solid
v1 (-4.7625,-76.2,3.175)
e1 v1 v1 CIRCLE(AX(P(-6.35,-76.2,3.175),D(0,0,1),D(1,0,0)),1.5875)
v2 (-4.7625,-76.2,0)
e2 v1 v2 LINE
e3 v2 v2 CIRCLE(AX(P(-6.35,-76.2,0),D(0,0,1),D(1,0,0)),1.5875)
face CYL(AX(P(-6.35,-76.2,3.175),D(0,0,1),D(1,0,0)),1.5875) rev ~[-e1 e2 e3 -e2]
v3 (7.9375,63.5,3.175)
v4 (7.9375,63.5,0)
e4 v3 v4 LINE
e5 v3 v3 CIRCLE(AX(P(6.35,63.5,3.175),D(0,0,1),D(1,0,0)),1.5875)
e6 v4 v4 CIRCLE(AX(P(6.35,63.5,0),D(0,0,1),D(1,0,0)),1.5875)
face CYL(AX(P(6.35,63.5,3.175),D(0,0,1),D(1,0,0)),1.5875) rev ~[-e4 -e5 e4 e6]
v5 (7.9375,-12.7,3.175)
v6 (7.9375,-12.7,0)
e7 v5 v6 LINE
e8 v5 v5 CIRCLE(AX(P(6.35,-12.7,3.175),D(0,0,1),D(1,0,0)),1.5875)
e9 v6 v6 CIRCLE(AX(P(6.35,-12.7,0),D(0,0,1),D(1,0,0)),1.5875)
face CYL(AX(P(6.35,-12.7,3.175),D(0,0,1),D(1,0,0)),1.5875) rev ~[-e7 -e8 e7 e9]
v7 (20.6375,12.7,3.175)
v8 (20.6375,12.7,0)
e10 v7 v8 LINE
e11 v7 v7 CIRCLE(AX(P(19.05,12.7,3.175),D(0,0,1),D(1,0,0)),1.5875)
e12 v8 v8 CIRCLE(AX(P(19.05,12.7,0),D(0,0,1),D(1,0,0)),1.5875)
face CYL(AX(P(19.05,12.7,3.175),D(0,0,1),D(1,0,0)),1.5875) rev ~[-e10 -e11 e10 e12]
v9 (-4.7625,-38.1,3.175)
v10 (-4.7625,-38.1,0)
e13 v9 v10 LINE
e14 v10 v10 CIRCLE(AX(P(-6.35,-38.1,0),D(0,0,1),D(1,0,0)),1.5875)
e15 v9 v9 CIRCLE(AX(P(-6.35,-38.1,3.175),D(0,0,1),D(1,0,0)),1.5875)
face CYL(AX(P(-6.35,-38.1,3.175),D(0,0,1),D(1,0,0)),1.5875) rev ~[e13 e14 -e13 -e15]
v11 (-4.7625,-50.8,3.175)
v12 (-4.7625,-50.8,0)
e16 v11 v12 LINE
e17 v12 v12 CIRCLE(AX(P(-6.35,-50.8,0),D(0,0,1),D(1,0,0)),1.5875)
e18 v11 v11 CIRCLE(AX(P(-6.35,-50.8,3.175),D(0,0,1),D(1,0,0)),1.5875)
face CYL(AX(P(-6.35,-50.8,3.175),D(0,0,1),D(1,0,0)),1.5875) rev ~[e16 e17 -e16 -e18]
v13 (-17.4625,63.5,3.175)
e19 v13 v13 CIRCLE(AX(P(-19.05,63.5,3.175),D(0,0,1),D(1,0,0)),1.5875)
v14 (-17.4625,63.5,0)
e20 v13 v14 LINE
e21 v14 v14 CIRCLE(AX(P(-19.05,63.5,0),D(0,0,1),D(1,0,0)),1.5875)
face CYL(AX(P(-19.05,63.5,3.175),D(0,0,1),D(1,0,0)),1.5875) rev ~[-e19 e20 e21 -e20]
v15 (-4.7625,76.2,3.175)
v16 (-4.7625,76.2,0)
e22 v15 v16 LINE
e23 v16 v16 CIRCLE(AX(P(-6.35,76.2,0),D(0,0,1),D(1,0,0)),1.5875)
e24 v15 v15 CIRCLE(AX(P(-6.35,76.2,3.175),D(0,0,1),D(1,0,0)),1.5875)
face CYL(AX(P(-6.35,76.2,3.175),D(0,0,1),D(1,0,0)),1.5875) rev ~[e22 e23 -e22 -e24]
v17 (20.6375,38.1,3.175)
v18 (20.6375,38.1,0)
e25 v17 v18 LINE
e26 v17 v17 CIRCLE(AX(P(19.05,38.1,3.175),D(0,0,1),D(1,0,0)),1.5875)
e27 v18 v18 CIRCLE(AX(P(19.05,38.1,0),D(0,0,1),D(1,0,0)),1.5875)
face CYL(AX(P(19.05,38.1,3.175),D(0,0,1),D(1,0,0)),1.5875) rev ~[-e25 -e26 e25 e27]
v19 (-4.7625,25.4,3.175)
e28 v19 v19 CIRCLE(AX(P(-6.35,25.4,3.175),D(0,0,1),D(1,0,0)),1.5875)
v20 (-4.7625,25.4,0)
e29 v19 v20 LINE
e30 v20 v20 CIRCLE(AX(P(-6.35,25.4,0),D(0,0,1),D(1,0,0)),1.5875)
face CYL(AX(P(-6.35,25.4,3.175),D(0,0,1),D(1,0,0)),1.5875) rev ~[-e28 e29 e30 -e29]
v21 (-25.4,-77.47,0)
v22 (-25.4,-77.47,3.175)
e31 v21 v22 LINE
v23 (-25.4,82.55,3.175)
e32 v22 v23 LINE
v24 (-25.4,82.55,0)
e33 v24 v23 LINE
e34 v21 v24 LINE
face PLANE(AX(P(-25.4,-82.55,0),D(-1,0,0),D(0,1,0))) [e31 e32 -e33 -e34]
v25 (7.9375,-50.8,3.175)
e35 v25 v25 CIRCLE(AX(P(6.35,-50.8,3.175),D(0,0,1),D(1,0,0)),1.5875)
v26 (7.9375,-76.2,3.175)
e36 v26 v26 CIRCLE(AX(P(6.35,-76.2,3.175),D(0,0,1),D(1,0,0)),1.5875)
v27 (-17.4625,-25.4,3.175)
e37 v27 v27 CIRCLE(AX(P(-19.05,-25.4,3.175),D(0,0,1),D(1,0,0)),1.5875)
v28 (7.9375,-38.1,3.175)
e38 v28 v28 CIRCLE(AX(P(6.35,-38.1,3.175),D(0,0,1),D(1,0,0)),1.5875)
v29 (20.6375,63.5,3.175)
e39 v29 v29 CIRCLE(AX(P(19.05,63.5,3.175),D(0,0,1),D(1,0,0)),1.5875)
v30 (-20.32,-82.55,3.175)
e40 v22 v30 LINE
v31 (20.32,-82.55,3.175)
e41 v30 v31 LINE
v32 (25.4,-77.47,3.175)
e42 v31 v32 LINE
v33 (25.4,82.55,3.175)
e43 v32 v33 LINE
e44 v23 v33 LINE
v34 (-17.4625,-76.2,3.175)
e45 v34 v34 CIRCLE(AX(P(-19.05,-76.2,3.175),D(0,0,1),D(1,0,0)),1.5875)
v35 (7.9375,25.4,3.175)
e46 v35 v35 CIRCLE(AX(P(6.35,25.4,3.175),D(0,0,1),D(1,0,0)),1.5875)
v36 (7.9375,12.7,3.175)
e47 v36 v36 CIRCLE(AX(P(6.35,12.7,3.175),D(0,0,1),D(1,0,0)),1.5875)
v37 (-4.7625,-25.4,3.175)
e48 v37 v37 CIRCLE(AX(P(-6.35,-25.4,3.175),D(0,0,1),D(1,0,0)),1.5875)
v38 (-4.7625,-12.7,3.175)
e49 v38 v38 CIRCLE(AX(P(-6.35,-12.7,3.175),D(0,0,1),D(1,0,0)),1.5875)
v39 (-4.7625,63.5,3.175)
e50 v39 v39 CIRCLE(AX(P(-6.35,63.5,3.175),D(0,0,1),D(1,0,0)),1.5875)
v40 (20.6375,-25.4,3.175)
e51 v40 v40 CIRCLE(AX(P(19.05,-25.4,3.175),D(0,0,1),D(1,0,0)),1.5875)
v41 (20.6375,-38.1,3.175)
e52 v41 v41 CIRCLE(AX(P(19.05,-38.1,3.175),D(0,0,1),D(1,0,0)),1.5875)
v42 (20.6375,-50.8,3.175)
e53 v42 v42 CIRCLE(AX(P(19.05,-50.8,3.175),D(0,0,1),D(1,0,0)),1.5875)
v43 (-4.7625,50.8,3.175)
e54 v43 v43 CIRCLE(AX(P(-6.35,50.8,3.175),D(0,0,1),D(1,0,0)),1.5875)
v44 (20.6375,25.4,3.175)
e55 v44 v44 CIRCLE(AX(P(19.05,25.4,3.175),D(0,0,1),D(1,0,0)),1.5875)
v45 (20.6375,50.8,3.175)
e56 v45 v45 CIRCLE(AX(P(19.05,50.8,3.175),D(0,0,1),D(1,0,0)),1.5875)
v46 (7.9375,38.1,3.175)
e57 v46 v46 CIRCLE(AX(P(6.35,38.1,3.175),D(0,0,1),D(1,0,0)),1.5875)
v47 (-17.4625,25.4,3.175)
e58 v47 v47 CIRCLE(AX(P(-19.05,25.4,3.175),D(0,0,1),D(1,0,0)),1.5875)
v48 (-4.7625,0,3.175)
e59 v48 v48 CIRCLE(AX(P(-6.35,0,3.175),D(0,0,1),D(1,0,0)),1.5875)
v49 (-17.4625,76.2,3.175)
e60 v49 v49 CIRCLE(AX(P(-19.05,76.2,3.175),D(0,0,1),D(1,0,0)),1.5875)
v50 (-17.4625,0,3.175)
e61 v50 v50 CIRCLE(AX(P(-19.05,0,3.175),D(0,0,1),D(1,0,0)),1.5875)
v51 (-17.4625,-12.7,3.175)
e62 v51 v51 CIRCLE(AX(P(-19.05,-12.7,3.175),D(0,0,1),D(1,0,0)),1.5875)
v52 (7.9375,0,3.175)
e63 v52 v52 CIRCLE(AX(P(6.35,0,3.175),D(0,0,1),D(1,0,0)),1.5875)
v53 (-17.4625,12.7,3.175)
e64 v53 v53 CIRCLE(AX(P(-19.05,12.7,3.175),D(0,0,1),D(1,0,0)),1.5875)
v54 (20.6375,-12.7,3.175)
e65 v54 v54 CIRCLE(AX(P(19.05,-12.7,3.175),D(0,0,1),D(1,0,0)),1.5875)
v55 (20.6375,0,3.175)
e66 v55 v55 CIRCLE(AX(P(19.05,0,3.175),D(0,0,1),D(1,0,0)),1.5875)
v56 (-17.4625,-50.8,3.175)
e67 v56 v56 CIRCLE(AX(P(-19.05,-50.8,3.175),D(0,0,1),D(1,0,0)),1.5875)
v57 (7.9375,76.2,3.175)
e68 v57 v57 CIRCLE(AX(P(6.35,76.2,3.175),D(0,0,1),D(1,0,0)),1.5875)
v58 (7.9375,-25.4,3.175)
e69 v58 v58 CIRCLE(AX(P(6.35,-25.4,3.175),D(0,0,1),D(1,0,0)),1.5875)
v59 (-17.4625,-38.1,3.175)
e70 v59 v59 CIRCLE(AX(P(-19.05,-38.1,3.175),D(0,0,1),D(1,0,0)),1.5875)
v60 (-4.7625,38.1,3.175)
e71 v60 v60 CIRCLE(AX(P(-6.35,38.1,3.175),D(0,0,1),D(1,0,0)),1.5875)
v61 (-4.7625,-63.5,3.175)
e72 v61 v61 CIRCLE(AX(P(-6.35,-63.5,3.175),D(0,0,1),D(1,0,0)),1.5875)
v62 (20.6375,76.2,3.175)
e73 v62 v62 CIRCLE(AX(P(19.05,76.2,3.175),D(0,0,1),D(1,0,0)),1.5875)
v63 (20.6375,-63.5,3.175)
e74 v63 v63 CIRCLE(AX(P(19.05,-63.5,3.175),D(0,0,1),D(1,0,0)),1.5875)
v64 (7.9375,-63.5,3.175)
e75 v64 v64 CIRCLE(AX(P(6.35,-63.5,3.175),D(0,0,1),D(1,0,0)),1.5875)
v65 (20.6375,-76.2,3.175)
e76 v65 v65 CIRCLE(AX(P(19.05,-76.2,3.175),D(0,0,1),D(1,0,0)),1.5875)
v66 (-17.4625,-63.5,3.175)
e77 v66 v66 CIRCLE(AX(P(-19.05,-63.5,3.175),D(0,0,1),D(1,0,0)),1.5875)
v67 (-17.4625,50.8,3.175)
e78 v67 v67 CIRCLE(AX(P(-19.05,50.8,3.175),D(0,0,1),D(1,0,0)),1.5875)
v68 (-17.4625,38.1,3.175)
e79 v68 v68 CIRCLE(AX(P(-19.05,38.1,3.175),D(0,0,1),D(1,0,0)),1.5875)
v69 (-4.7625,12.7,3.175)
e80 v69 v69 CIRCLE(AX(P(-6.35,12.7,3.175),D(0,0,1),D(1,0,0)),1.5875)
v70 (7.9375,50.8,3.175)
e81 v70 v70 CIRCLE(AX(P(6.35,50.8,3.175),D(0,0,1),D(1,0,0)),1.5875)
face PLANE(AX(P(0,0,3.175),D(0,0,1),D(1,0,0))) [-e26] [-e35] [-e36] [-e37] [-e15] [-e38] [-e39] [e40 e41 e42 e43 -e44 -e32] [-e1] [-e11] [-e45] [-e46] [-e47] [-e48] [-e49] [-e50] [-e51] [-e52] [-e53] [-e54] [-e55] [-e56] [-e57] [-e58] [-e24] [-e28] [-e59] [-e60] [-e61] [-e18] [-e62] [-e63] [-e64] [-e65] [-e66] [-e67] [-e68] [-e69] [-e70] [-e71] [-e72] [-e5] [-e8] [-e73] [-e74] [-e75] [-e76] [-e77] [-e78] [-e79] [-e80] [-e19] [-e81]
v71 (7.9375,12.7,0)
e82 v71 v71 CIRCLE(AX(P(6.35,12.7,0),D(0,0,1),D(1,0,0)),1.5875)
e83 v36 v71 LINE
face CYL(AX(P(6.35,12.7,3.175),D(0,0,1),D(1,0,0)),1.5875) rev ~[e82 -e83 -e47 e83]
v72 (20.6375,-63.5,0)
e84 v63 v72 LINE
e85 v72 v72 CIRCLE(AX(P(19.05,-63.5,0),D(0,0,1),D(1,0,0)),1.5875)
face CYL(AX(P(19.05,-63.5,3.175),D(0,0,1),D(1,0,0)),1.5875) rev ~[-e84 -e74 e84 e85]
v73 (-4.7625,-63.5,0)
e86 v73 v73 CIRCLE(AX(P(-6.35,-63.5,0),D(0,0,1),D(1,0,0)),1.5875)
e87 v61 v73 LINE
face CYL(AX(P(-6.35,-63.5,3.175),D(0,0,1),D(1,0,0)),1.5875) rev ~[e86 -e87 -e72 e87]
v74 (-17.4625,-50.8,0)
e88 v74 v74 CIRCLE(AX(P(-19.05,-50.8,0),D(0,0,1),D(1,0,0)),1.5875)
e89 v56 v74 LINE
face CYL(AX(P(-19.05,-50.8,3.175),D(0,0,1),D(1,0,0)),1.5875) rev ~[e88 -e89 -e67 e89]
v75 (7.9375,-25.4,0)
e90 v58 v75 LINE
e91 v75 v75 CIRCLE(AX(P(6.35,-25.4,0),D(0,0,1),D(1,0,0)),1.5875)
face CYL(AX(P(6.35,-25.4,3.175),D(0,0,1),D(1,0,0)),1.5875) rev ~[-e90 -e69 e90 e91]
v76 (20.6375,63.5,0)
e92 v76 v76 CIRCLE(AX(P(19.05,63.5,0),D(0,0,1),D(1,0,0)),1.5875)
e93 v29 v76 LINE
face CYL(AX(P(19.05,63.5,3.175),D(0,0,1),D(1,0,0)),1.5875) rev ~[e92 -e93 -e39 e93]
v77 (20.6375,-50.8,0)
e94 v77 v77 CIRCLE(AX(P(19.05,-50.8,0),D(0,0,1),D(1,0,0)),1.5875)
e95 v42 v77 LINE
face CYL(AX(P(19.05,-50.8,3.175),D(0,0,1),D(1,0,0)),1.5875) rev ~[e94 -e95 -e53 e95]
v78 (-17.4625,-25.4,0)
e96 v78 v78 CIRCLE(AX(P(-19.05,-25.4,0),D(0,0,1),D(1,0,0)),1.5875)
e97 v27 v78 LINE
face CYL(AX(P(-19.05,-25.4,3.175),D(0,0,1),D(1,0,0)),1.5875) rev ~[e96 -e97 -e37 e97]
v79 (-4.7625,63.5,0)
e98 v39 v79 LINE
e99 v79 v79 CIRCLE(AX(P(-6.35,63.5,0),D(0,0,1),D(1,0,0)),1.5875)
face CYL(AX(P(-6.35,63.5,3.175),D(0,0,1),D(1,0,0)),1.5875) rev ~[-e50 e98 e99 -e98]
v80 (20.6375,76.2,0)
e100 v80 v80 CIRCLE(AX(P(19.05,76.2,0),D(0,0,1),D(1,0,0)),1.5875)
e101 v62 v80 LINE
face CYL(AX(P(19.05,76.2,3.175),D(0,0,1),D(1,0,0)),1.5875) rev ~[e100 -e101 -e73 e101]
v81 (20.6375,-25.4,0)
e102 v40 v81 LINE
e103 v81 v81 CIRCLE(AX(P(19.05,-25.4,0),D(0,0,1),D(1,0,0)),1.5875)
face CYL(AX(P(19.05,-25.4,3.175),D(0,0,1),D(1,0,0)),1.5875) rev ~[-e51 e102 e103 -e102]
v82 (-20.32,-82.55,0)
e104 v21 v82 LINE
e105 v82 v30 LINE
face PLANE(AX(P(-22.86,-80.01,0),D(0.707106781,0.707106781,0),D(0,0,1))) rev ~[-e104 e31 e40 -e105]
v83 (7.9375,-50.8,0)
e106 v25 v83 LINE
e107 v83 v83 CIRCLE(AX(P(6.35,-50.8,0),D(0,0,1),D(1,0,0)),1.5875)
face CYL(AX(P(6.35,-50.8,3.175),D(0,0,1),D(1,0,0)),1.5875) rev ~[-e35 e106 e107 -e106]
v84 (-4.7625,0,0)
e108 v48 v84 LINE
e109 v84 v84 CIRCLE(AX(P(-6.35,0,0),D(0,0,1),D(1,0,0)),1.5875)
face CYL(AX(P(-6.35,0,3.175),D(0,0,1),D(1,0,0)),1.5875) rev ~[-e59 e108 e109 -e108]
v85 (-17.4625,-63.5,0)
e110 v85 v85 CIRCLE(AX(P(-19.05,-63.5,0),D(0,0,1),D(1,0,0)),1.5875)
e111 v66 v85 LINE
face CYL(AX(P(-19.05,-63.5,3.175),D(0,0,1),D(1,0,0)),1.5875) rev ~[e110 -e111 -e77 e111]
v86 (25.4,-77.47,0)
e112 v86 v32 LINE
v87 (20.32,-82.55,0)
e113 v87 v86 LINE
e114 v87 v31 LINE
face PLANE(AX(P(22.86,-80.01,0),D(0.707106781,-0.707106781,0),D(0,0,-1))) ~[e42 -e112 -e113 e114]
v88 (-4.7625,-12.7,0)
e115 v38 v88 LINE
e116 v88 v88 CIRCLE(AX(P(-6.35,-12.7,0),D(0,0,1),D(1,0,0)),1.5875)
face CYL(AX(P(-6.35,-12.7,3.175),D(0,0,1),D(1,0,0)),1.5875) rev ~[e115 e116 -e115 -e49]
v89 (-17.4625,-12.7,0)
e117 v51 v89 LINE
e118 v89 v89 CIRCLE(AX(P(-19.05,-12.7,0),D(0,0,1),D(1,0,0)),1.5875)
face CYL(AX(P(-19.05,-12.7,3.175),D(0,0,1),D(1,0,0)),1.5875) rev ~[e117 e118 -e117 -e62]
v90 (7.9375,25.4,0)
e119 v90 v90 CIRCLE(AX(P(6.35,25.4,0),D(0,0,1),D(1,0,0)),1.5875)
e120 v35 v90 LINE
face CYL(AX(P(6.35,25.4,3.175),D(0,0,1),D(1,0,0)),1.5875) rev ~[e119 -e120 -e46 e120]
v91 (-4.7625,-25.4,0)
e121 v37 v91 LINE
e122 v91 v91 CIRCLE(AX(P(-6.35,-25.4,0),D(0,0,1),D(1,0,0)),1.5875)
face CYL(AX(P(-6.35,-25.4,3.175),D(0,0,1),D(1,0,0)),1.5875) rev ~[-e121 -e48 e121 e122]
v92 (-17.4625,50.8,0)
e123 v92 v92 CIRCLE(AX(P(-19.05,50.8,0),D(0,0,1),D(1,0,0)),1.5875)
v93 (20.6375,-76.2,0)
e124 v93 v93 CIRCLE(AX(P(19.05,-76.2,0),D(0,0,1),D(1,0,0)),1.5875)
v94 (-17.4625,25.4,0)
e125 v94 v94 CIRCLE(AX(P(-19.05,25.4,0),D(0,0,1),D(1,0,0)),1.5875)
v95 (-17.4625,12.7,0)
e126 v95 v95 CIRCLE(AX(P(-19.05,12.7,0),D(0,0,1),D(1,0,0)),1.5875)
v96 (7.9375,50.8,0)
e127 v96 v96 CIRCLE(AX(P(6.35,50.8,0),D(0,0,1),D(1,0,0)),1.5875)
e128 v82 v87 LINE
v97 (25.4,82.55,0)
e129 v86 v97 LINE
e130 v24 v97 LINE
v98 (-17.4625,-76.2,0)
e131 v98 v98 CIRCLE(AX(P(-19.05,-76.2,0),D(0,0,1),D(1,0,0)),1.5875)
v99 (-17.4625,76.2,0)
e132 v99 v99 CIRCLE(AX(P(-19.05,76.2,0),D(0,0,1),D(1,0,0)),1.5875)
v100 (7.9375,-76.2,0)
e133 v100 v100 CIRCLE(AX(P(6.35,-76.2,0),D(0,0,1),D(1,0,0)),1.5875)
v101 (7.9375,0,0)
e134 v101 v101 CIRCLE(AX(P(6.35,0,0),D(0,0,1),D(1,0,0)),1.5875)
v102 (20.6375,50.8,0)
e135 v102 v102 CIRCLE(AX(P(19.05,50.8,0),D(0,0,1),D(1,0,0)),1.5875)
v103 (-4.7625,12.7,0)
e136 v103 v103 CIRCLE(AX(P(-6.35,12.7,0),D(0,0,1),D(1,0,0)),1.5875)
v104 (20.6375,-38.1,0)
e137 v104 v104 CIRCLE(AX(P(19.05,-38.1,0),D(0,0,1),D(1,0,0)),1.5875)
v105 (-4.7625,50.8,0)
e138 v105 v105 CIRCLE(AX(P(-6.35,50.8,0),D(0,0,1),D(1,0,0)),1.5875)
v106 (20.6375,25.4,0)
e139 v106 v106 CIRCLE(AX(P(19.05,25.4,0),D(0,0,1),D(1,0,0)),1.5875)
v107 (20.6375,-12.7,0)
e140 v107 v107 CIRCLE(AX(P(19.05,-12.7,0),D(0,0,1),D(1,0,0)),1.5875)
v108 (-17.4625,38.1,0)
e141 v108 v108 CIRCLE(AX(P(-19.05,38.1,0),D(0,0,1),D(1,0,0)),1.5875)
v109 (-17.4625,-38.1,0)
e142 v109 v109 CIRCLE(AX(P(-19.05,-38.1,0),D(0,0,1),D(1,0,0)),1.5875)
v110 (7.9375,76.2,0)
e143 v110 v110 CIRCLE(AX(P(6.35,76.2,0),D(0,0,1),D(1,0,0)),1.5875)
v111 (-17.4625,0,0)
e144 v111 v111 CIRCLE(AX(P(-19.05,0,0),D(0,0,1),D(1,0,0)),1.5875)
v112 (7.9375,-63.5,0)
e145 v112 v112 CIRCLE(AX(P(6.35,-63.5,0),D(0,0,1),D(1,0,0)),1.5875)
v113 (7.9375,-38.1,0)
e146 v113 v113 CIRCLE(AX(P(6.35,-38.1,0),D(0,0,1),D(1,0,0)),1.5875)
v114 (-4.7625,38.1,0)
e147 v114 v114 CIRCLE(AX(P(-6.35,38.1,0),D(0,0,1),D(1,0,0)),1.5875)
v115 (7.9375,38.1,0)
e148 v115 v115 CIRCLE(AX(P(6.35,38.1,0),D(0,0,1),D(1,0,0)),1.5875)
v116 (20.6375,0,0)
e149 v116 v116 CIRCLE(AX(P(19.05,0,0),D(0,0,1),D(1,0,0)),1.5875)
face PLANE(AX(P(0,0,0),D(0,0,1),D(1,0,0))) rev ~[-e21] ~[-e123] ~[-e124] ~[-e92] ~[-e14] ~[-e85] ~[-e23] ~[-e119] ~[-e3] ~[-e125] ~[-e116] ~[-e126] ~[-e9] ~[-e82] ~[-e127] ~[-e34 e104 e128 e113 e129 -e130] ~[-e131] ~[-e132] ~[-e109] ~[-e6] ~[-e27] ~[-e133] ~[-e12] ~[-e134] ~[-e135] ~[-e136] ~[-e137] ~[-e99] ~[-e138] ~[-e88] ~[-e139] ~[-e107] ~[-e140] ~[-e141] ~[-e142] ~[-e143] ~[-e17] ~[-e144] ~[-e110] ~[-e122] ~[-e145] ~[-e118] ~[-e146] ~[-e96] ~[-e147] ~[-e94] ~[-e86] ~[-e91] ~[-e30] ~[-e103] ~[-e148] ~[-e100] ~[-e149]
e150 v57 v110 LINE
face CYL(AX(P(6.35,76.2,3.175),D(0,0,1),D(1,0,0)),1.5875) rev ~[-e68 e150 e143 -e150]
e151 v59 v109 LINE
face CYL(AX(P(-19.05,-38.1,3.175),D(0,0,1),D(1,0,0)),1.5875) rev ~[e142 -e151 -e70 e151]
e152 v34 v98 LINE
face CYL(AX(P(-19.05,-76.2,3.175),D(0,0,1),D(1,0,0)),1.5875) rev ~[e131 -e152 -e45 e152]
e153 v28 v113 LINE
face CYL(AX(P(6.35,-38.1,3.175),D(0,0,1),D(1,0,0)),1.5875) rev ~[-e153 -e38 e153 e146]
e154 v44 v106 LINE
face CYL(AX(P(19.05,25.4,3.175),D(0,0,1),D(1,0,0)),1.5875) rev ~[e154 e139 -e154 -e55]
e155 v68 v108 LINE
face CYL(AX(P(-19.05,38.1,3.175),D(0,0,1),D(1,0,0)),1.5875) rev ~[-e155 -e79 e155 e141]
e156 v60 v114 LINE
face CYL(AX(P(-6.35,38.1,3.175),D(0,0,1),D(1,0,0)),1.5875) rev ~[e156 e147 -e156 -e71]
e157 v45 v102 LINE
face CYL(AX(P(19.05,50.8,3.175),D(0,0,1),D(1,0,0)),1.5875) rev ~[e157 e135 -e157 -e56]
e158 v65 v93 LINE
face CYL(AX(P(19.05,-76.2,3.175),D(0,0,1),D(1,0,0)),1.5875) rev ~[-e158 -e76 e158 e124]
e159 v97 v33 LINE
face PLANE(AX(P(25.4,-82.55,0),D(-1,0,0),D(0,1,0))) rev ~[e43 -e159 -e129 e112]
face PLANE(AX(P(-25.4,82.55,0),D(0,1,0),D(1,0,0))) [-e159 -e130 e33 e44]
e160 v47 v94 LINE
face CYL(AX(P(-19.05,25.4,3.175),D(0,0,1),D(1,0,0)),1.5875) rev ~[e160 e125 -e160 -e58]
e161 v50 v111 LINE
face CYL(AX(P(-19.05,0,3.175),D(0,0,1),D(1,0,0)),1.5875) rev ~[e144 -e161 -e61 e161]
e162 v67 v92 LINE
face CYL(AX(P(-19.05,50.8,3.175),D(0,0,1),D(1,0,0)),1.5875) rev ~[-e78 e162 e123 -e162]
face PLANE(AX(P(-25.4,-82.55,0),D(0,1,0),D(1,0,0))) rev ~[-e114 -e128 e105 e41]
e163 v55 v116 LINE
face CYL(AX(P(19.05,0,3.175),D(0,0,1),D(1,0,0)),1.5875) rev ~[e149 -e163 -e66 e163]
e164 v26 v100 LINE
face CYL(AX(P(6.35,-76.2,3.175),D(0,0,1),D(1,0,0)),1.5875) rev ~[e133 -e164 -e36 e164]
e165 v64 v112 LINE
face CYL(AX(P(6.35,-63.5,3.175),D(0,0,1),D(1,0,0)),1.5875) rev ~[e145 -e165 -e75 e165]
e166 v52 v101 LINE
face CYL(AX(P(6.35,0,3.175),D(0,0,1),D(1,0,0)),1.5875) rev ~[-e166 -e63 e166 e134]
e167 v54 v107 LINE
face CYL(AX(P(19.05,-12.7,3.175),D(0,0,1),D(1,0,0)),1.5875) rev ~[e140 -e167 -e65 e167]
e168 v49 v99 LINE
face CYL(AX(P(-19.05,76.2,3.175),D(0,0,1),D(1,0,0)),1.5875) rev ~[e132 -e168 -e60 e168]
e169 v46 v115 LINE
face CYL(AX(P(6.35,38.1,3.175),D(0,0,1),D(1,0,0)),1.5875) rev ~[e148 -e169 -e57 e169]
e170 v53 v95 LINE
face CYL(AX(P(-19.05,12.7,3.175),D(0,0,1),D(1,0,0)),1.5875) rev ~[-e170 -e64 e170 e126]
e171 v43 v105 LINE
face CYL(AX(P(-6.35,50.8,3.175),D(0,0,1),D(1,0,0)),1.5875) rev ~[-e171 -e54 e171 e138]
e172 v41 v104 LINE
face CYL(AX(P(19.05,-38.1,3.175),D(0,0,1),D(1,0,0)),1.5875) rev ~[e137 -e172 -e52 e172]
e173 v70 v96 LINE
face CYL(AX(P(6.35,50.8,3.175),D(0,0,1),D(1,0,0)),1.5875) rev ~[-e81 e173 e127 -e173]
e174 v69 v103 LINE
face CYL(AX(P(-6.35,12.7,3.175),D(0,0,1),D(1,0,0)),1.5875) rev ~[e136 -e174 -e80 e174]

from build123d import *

# Parameters (mm, degrees)
SKETCH1_W                  = 50.8
SKETCH1_H                  = 165.1
BOSS_EXTRUDE1_DEPTH        = 3.175
SKETCH2_R                  = 1.5875
CUT_EXTRUDE1_DEPTH         = 4.175
LPATTERN1_COUNT            = 3
LPATTERN1_PITCH            = 12.7
LPATTERN1_COL_COUNT        = 2
LPATTERN1_COL_PITCH        = 12.7
LPATTERN2_COUNT            = 13
LPATTERN2_PITCH            = 12.7
LPATTERN2_COPY_1_SKETCH_R  = 1.5875
LPATTERN2_COPY_1_DEPTH     = 4.175
LPATTERN2_COPY_2_SKETCH_R  = 1.5875
LPATTERN2_COPY_2_DEPTH     = 4.175
LPATTERN2_COPY_3_SKETCH_R  = 1.5875
LPATTERN2_COPY_3_DEPTH     = 4.175
LPATTERN2_COPY_4_SKETCH_R  = 1.5875
LPATTERN2_COPY_4_DEPTH     = 4.175
LPATTERN2_COPY_5_SKETCH_R  = 1.5875
LPATTERN2_COPY_5_DEPTH     = 4.175
LPATTERN2_COPY_6_SKETCH_R  = 1.5875
LPATTERN2_COPY_6_DEPTH     = 4.175
LPATTERN2_COPY_7_SKETCH_R  = 1.5875
LPATTERN2_COPY_7_DEPTH     = 4.175
LPATTERN2_COPY_8_SKETCH_R  = 1.5875
LPATTERN2_COPY_8_DEPTH     = 4.175
LPATTERN2_COPY_9_SKETCH_R  = 1.5875
LPATTERN2_COPY_9_DEPTH     = 4.175
LPATTERN2_COPY_10_SKETCH_R = 1.5875
LPATTERN2_COPY_10_DEPTH    = 4.175
LPATTERN2_COPY_11_SKETCH_R = 1.5875
LPATTERN2_COPY_11_DEPTH    = 4.175
LPATTERN2_COPY_12_SKETCH_R = 1.5875
LPATTERN2_COPY_12_DEPTH    = 4.175
LPATTERN2_COPY_13_SKETCH_R = 1.5875
LPATTERN2_COPY_13_DEPTH    = 4.175
LPATTERN2_COPY_14_SKETCH_R = 1.5875
LPATTERN2_COPY_14_DEPTH    = 4.175
LPATTERN2_COPY_15_SKETCH_R = 1.5875
LPATTERN2_COPY_15_DEPTH    = 4.175
LPATTERN2_COPY_16_SKETCH_R = 1.5875
LPATTERN2_COPY_16_DEPTH    = 4.175
LPATTERN2_COPY_17_SKETCH_R = 1.5875
LPATTERN2_COPY_17_DEPTH    = 4.175
LPATTERN2_COPY_18_SKETCH_R = 1.5875
LPATTERN2_COPY_18_DEPTH    = 4.175
LPATTERN2_COPY_19_SKETCH_R = 1.5875
LPATTERN2_COPY_19_DEPTH    = 4.175
LPATTERN2_COPY_20_SKETCH_R = 1.5875
LPATTERN2_COPY_20_DEPTH    = 4.175
LPATTERN2_COPY_21_SKETCH_R = 1.5875
LPATTERN2_COPY_21_DEPTH    = 4.175
LPATTERN2_COPY_22_SKETCH_R = 1.5875
LPATTERN2_COPY_22_DEPTH    = 4.175
LPATTERN2_COPY_23_SKETCH_R = 1.5875
LPATTERN2_COPY_23_DEPTH    = 4.175
LPATTERN2_COPY_24_SKETCH_R = 1.5875
LPATTERN2_COPY_24_DEPTH    = 4.175
LPATTERN2_COPY_25_SKETCH_R = 1.5875
LPATTERN2_COPY_25_DEPTH    = 4.175
LPATTERN2_COPY_26_SKETCH_R = 1.5875
LPATTERN2_COPY_26_DEPTH    = 4.175
LPATTERN2_COPY_27_SKETCH_R = 1.5875
LPATTERN2_COPY_27_DEPTH    = 4.175
LPATTERN2_COPY_28_SKETCH_R = 1.5875
LPATTERN2_COPY_28_DEPTH    = 4.175
LPATTERN2_COPY_29_SKETCH_R = 1.5875
LPATTERN2_COPY_29_DEPTH    = 4.175
LPATTERN2_COPY_30_SKETCH_R = 1.5875
LPATTERN2_COPY_30_DEPTH    = 4.175
LPATTERN2_COPY_31_SKETCH_R = 1.5875
LPATTERN2_COPY_31_DEPTH    = 4.175
LPATTERN2_COPY_32_SKETCH_R = 1.5875
LPATTERN2_COPY_32_DEPTH    = 4.175
LPATTERN2_COPY_33_SKETCH_R = 1.5875
LPATTERN2_COPY_33_DEPTH    = 4.175
LPATTERN2_COPY_34_SKETCH_R = 1.5875
LPATTERN2_COPY_34_DEPTH    = 4.175
LPATTERN2_COPY_35_SKETCH_R = 1.5875
LPATTERN2_COPY_35_DEPTH    = 4.175
LPATTERN2_COPY_36_SKETCH_R = 1.5875
LPATTERN2_COPY_36_DEPTH    = 4.175
CHAMFER1_SIZE              = 5.08


with BuildPart() as part:
    # Sketch1 → Boss-Extrude1 (new body)
    with BuildSketch(Plane.XY):
        Rectangle(SKETCH1_W, SKETCH1_H)
    extrude(amount=BOSS_EXTRUDE1_DEPTH)

    # Sketch2 → Cut-Extrude1 (cut, through all)
    with BuildSketch(Plane.XY.offset(3.175)):
        with Locations((-6.35, -76.2)):
            Circle(SKETCH2_R)
    cut_extrude1 = extrude(amount=-CUT_EXTRUDE1_DEPTH, mode=Mode.SUBTRACT)

    # LPattern1: Cut-Extrude1 ×3
    with Locations(*[(i * LPATTERN1_PITCH, 0, 0) for i in range(1, LPATTERN1_COUNT)]):
        add(cut_extrude1, mode=Mode.SUBTRACT)

    # LPattern1 col: Cut-Extrude1 ×2
    with Locations(*[(-i * LPATTERN1_COL_PITCH, 0, 0) for i in range(1, LPATTERN1_COL_COUNT)]):
        add(cut_extrude1, mode=Mode.SUBTRACT)

    # LPattern2: Cut-Extrude1 ×13
    with Locations(*[(0, i * LPATTERN2_PITCH, 0) for i in range(1, LPATTERN2_COUNT)]):
        add(cut_extrude1, mode=Mode.SUBTRACT)

    # LPattern2 copy 1 sketch → LPattern2 copy 1 (cut, through all)
    with BuildSketch(Plane(origin=(12.7, 12.7, 3.175), x_dir=(1, 0, 0), z_dir=(0, 0, 1))):
        with Locations((-6.35, -76.2)):
            Circle(LPATTERN2_COPY_1_SKETCH_R)
    extrude(amount=-LPATTERN2_COPY_1_DEPTH, mode=Mode.SUBTRACT)

    # LPattern2 copy 2 sketch → LPattern2 copy 2 (cut, through all)
    with BuildSketch(Plane(origin=(12.7, 25.4, 3.175), x_dir=(1, 0, 0), z_dir=(0, 0, 1))):
        with Locations((-6.35, -76.2)):
            Circle(LPATTERN2_COPY_2_SKETCH_R)
    extrude(amount=-LPATTERN2_COPY_2_DEPTH, mode=Mode.SUBTRACT)

    # LPattern2 copy 3 sketch → LPattern2 copy 3 (cut, through all)
    with BuildSketch(Plane(origin=(12.7, 38.1, 3.175), x_dir=(1, 0, 0), z_dir=(0, 0, 1))):
        with Locations((-6.35, -76.2)):
            Circle(LPATTERN2_COPY_3_SKETCH_R)
    extrude(amount=-LPATTERN2_COPY_3_DEPTH, mode=Mode.SUBTRACT)

    # LPattern2 copy 4 sketch → LPattern2 copy 4 (cut, through all)
    with BuildSketch(Plane(origin=(12.7, 50.8, 3.175), x_dir=(1, 0, 0), z_dir=(0, 0, 1))):
        with Locations((-6.35, -76.2)):
            Circle(LPATTERN2_COPY_4_SKETCH_R)
    extrude(amount=-LPATTERN2_COPY_4_DEPTH, mode=Mode.SUBTRACT)

    # LPattern2 copy 5 sketch → LPattern2 copy 5 (cut, through all)
    with BuildSketch(Plane(origin=(12.7, 63.5, 3.175), x_dir=(1, 0, 0), z_dir=(0, 0, 1))):
        with Locations((-6.35, -76.2)):
            Circle(LPATTERN2_COPY_5_SKETCH_R)
    extrude(amount=-LPATTERN2_COPY_5_DEPTH, mode=Mode.SUBTRACT)

    # LPattern2 copy 6 sketch → LPattern2 copy 6 (cut, through all)
    with BuildSketch(Plane(origin=(12.7, 76.2, 3.175), x_dir=(1, 0, 0), z_dir=(0, 0, 1))):
        with Locations((-6.35, -76.2)):
            Circle(LPATTERN2_COPY_6_SKETCH_R)
    extrude(amount=-LPATTERN2_COPY_6_DEPTH, mode=Mode.SUBTRACT)

    # LPattern2 copy 7 sketch → LPattern2 copy 7 (cut, through all)
    with BuildSketch(Plane(origin=(12.7, 88.9, 3.175), x_dir=(1, 0, 0), z_dir=(0, 0, 1))):
        with Locations((-6.35, -76.2)):
            Circle(LPATTERN2_COPY_7_SKETCH_R)
    extrude(amount=-LPATTERN2_COPY_7_DEPTH, mode=Mode.SUBTRACT)

    # LPattern2 copy 8 sketch → LPattern2 copy 8 (cut, through all)
    with BuildSketch(Plane(origin=(12.7, 101.6, 3.175), x_dir=(1, 0, 0), z_dir=(0, 0, 1))):
        with Locations((-6.35, -76.2)):
            Circle(LPATTERN2_COPY_8_SKETCH_R)
    extrude(amount=-LPATTERN2_COPY_8_DEPTH, mode=Mode.SUBTRACT)

    # LPattern2 copy 9 sketch → LPattern2 copy 9 (cut, through all)
    with BuildSketch(Plane(origin=(12.7, 114.3, 3.175), x_dir=(1, 0, 0), z_dir=(0, 0, 1))):
        with Locations((-6.35, -76.2)):
            Circle(LPATTERN2_COPY_9_SKETCH_R)
    extrude(amount=-LPATTERN2_COPY_9_DEPTH, mode=Mode.SUBTRACT)

    # LPattern2 copy 10 sketch → LPattern2 copy 10 (cut, through all)
    with BuildSketch(Plane(origin=(12.7, 127, 3.175), x_dir=(1, 0, 0), z_dir=(0, 0, 1))):
        with Locations((-6.35, -76.2)):
            Circle(LPATTERN2_COPY_10_SKETCH_R)
    extrude(amount=-LPATTERN2_COPY_10_DEPTH, mode=Mode.SUBTRACT)

    # LPattern2 copy 11 sketch → LPattern2 copy 11 (cut, through all)
    with BuildSketch(Plane(origin=(12.7, 139.7, 3.175), x_dir=(1, 0, 0), z_dir=(0, 0, 1))):
        with Locations((-6.35, -76.2)):
            Circle(LPATTERN2_COPY_11_SKETCH_R)
    extrude(amount=-LPATTERN2_COPY_11_DEPTH, mode=Mode.SUBTRACT)

    # LPattern2 copy 12 sketch → LPattern2 copy 12 (cut, through all)
    with BuildSketch(Plane(origin=(12.7, 152.4, 3.175), x_dir=(1, 0, 0), z_dir=(0, 0, 1))):
        with Locations((-6.35, -76.2)):
            Circle(LPATTERN2_COPY_12_SKETCH_R)
    extrude(amount=-LPATTERN2_COPY_12_DEPTH, mode=Mode.SUBTRACT)

    # LPattern2 copy 13 sketch → LPattern2 copy 13 (cut, through all)
    with BuildSketch(Plane(origin=(25.4, 12.7, 3.175), x_dir=(1, 0, 0), z_dir=(0, 0, 1))):
        with Locations((-6.35, -76.2)):
            Circle(LPATTERN2_COPY_13_SKETCH_R)
    extrude(amount=-LPATTERN2_COPY_13_DEPTH, mode=Mode.SUBTRACT)

    # LPattern2 copy 14 sketch → LPattern2 copy 14 (cut, through all)
    with BuildSketch(Plane(origin=(25.4, 25.4, 3.175), x_dir=(1, 0, 0), z_dir=(0, 0, 1))):
        with Locations((-6.35, -76.2)):
            Circle(LPATTERN2_COPY_14_SKETCH_R)
    extrude(amount=-LPATTERN2_COPY_14_DEPTH, mode=Mode.SUBTRACT)

    # LPattern2 copy 15 sketch → LPattern2 copy 15 (cut, through all)
    with BuildSketch(Plane(origin=(25.4, 38.1, 3.175), x_dir=(1, 0, 0), z_dir=(0, 0, 1))):
        with Locations((-6.35, -76.2)):
            Circle(LPATTERN2_COPY_15_SKETCH_R)
    extrude(amount=-LPATTERN2_COPY_15_DEPTH, mode=Mode.SUBTRACT)

    # LPattern2 copy 16 sketch → LPattern2 copy 16 (cut, through all)
    with BuildSketch(Plane(origin=(25.4, 50.8, 3.175), x_dir=(1, 0, 0), z_dir=(0, 0, 1))):
        with Locations((-6.35, -76.2)):
            Circle(LPATTERN2_COPY_16_SKETCH_R)
    extrude(amount=-LPATTERN2_COPY_16_DEPTH, mode=Mode.SUBTRACT)

    # LPattern2 copy 17 sketch → LPattern2 copy 17 (cut, through all)
    with BuildSketch(Plane(origin=(25.4, 63.5, 3.175), x_dir=(1, 0, 0), z_dir=(0, 0, 1))):
        with Locations((-6.35, -76.2)):
            Circle(LPATTERN2_COPY_17_SKETCH_R)
    extrude(amount=-LPATTERN2_COPY_17_DEPTH, mode=Mode.SUBTRACT)

    # LPattern2 copy 18 sketch → LPattern2 copy 18 (cut, through all)
    with BuildSketch(Plane(origin=(25.4, 76.2, 3.175), x_dir=(1, 0, 0), z_dir=(0, 0, 1))):
        with Locations((-6.35, -76.2)):
            Circle(LPATTERN2_COPY_18_SKETCH_R)
    extrude(amount=-LPATTERN2_COPY_18_DEPTH, mode=Mode.SUBTRACT)

    # LPattern2 copy 19 sketch → LPattern2 copy 19 (cut, through all)
    with BuildSketch(Plane(origin=(25.4, 88.9, 3.175), x_dir=(1, 0, 0), z_dir=(0, 0, 1))):
        with Locations((-6.35, -76.2)):
            Circle(LPATTERN2_COPY_19_SKETCH_R)
    extrude(amount=-LPATTERN2_COPY_19_DEPTH, mode=Mode.SUBTRACT)

    # LPattern2 copy 20 sketch → LPattern2 copy 20 (cut, through all)
    with BuildSketch(Plane(origin=(25.4, 101.6, 3.175), x_dir=(1, 0, 0), z_dir=(0, 0, 1))):
        with Locations((-6.35, -76.2)):
            Circle(LPATTERN2_COPY_20_SKETCH_R)
    extrude(amount=-LPATTERN2_COPY_20_DEPTH, mode=Mode.SUBTRACT)

    # LPattern2 copy 21 sketch → LPattern2 copy 21 (cut, through all)
    with BuildSketch(Plane(origin=(25.4, 114.3, 3.175), x_dir=(1, 0, 0), z_dir=(0, 0, 1))):
        with Locations((-6.35, -76.2)):
            Circle(LPATTERN2_COPY_21_SKETCH_R)
    extrude(amount=-LPATTERN2_COPY_21_DEPTH, mode=Mode.SUBTRACT)

    # LPattern2 copy 22 sketch → LPattern2 copy 22 (cut, through all)
    with BuildSketch(Plane(origin=(25.4, 127, 3.175), x_dir=(1, 0, 0), z_dir=(0, 0, 1))):
        with Locations((-6.35, -76.2)):
            Circle(LPATTERN2_COPY_22_SKETCH_R)
    extrude(amount=-LPATTERN2_COPY_22_DEPTH, mode=Mode.SUBTRACT)

    # LPattern2 copy 23 sketch → LPattern2 copy 23 (cut, through all)
    with BuildSketch(Plane(origin=(25.4, 139.7, 3.175), x_dir=(1, 0, 0), z_dir=(0, 0, 1))):
        with Locations((-6.35, -76.2)):
            Circle(LPATTERN2_COPY_23_SKETCH_R)
    extrude(amount=-LPATTERN2_COPY_23_DEPTH, mode=Mode.SUBTRACT)

    # LPattern2 copy 24 sketch → LPattern2 copy 24 (cut, through all)
    with BuildSketch(Plane(origin=(25.4, 152.4, 3.175), x_dir=(1, 0, 0), z_dir=(0, 0, 1))):
        with Locations((-6.35, -76.2)):
            Circle(LPATTERN2_COPY_24_SKETCH_R)
    extrude(amount=-LPATTERN2_COPY_24_DEPTH, mode=Mode.SUBTRACT)

    # LPattern2 copy 25 sketch → LPattern2 copy 25 (cut, through all)
    with BuildSketch(Plane(origin=(-12.7, 12.7, 3.175), x_dir=(1, 0, 0), z_dir=(0, 0, 1))):
        with Locations((-6.35, -76.2)):
            Circle(LPATTERN2_COPY_25_SKETCH_R)
    extrude(amount=-LPATTERN2_COPY_25_DEPTH, mode=Mode.SUBTRACT)

    # LPattern2 copy 26 sketch → LPattern2 copy 26 (cut, through all)
    with BuildSketch(Plane(origin=(-12.7, 25.4, 3.175), x_dir=(1, 0, 0), z_dir=(0, 0, 1))):
        with Locations((-6.35, -76.2)):
            Circle(LPATTERN2_COPY_26_SKETCH_R)
    extrude(amount=-LPATTERN2_COPY_26_DEPTH, mode=Mode.SUBTRACT)

    # LPattern2 copy 27 sketch → LPattern2 copy 27 (cut, through all)
    with BuildSketch(Plane(origin=(-12.7, 38.1, 3.175), x_dir=(1, 0, 0), z_dir=(0, 0, 1))):
        with Locations((-6.35, -76.2)):
            Circle(LPATTERN2_COPY_27_SKETCH_R)
    extrude(amount=-LPATTERN2_COPY_27_DEPTH, mode=Mode.SUBTRACT)

    # LPattern2 copy 28 sketch → LPattern2 copy 28 (cut, through all)
    with BuildSketch(Plane(origin=(-12.7, 50.8, 3.175), x_dir=(1, 0, 0), z_dir=(0, 0, 1))):
        with Locations((-6.35, -76.2)):
            Circle(LPATTERN2_COPY_28_SKETCH_R)
    extrude(amount=-LPATTERN2_COPY_28_DEPTH, mode=Mode.SUBTRACT)

    # LPattern2 copy 29 sketch → LPattern2 copy 29 (cut, through all)
    with BuildSketch(Plane(origin=(-12.7, 63.5, 3.175), x_dir=(1, 0, 0), z_dir=(0, 0, 1))):
        with Locations((-6.35, -76.2)):
            Circle(LPATTERN2_COPY_29_SKETCH_R)
    extrude(amount=-LPATTERN2_COPY_29_DEPTH, mode=Mode.SUBTRACT)

    # LPattern2 copy 30 sketch → LPattern2 copy 30 (cut, through all)
    with BuildSketch(Plane(origin=(-12.7, 76.2, 3.175), x_dir=(1, 0, 0), z_dir=(0, 0, 1))):
        with Locations((-6.35, -76.2)):
            Circle(LPATTERN2_COPY_30_SKETCH_R)
    extrude(amount=-LPATTERN2_COPY_30_DEPTH, mode=Mode.SUBTRACT)

    # LPattern2 copy 31 sketch → LPattern2 copy 31 (cut, through all)
    with BuildSketch(Plane(origin=(-12.7, 88.9, 3.175), x_dir=(1, 0, 0), z_dir=(0, 0, 1))):
        with Locations((-6.35, -76.2)):
            Circle(LPATTERN2_COPY_31_SKETCH_R)
    extrude(amount=-LPATTERN2_COPY_31_DEPTH, mode=Mode.SUBTRACT)

    # LPattern2 copy 32 sketch → LPattern2 copy 32 (cut, through all)
    with BuildSketch(Plane(origin=(-12.7, 101.6, 3.175), x_dir=(1, 0, 0), z_dir=(0, 0, 1))):
        with Locations((-6.35, -76.2)):
            Circle(LPATTERN2_COPY_32_SKETCH_R)
    extrude(amount=-LPATTERN2_COPY_32_DEPTH, mode=Mode.SUBTRACT)

    # LPattern2 copy 33 sketch → LPattern2 copy 33 (cut, through all)
    with BuildSketch(Plane(origin=(-12.7, 114.3, 3.175), x_dir=(1, 0, 0), z_dir=(0, 0, 1))):
        with Locations((-6.35, -76.2)):
            Circle(LPATTERN2_COPY_33_SKETCH_R)
    extrude(amount=-LPATTERN2_COPY_33_DEPTH, mode=Mode.SUBTRACT)

    # LPattern2 copy 34 sketch → LPattern2 copy 34 (cut, through all)
    with BuildSketch(Plane(origin=(-12.7, 127, 3.175), x_dir=(1, 0, 0), z_dir=(0, 0, 1))):
        with Locations((-6.35, -76.2)):
            Circle(LPATTERN2_COPY_34_SKETCH_R)
    extrude(amount=-LPATTERN2_COPY_34_DEPTH, mode=Mode.SUBTRACT)

    # LPattern2 copy 35 sketch → LPattern2 copy 35 (cut, through all)
    with BuildSketch(Plane(origin=(-12.7, 139.7, 3.175), x_dir=(1, 0, 0), z_dir=(0, 0, 1))):
        with Locations((-6.35, -76.2)):
            Circle(LPATTERN2_COPY_35_SKETCH_R)
    extrude(amount=-LPATTERN2_COPY_35_DEPTH, mode=Mode.SUBTRACT)

    # LPattern2 copy 36 sketch → LPattern2 copy 36 (cut, through all)
    with BuildSketch(Plane(origin=(-12.7, 152.4, 3.175), x_dir=(1, 0, 0), z_dir=(0, 0, 1))):
        with Locations((-6.35, -76.2)):
            Circle(LPATTERN2_COPY_36_SKETCH_R)
    extrude(amount=-LPATTERN2_COPY_36_DEPTH, mode=Mode.SUBTRACT)

    # Chamfer1
    chamfer1_edges = [part.edges().sort_by_distance(p)[0] for p in [
        (25.4, -82.55, 1.5875),
        (-25.4, -82.55, 1.5875),
    ]]
    chamfer(chamfer1_edges, length=CHAMFER1_SIZE)


solid = part.part
